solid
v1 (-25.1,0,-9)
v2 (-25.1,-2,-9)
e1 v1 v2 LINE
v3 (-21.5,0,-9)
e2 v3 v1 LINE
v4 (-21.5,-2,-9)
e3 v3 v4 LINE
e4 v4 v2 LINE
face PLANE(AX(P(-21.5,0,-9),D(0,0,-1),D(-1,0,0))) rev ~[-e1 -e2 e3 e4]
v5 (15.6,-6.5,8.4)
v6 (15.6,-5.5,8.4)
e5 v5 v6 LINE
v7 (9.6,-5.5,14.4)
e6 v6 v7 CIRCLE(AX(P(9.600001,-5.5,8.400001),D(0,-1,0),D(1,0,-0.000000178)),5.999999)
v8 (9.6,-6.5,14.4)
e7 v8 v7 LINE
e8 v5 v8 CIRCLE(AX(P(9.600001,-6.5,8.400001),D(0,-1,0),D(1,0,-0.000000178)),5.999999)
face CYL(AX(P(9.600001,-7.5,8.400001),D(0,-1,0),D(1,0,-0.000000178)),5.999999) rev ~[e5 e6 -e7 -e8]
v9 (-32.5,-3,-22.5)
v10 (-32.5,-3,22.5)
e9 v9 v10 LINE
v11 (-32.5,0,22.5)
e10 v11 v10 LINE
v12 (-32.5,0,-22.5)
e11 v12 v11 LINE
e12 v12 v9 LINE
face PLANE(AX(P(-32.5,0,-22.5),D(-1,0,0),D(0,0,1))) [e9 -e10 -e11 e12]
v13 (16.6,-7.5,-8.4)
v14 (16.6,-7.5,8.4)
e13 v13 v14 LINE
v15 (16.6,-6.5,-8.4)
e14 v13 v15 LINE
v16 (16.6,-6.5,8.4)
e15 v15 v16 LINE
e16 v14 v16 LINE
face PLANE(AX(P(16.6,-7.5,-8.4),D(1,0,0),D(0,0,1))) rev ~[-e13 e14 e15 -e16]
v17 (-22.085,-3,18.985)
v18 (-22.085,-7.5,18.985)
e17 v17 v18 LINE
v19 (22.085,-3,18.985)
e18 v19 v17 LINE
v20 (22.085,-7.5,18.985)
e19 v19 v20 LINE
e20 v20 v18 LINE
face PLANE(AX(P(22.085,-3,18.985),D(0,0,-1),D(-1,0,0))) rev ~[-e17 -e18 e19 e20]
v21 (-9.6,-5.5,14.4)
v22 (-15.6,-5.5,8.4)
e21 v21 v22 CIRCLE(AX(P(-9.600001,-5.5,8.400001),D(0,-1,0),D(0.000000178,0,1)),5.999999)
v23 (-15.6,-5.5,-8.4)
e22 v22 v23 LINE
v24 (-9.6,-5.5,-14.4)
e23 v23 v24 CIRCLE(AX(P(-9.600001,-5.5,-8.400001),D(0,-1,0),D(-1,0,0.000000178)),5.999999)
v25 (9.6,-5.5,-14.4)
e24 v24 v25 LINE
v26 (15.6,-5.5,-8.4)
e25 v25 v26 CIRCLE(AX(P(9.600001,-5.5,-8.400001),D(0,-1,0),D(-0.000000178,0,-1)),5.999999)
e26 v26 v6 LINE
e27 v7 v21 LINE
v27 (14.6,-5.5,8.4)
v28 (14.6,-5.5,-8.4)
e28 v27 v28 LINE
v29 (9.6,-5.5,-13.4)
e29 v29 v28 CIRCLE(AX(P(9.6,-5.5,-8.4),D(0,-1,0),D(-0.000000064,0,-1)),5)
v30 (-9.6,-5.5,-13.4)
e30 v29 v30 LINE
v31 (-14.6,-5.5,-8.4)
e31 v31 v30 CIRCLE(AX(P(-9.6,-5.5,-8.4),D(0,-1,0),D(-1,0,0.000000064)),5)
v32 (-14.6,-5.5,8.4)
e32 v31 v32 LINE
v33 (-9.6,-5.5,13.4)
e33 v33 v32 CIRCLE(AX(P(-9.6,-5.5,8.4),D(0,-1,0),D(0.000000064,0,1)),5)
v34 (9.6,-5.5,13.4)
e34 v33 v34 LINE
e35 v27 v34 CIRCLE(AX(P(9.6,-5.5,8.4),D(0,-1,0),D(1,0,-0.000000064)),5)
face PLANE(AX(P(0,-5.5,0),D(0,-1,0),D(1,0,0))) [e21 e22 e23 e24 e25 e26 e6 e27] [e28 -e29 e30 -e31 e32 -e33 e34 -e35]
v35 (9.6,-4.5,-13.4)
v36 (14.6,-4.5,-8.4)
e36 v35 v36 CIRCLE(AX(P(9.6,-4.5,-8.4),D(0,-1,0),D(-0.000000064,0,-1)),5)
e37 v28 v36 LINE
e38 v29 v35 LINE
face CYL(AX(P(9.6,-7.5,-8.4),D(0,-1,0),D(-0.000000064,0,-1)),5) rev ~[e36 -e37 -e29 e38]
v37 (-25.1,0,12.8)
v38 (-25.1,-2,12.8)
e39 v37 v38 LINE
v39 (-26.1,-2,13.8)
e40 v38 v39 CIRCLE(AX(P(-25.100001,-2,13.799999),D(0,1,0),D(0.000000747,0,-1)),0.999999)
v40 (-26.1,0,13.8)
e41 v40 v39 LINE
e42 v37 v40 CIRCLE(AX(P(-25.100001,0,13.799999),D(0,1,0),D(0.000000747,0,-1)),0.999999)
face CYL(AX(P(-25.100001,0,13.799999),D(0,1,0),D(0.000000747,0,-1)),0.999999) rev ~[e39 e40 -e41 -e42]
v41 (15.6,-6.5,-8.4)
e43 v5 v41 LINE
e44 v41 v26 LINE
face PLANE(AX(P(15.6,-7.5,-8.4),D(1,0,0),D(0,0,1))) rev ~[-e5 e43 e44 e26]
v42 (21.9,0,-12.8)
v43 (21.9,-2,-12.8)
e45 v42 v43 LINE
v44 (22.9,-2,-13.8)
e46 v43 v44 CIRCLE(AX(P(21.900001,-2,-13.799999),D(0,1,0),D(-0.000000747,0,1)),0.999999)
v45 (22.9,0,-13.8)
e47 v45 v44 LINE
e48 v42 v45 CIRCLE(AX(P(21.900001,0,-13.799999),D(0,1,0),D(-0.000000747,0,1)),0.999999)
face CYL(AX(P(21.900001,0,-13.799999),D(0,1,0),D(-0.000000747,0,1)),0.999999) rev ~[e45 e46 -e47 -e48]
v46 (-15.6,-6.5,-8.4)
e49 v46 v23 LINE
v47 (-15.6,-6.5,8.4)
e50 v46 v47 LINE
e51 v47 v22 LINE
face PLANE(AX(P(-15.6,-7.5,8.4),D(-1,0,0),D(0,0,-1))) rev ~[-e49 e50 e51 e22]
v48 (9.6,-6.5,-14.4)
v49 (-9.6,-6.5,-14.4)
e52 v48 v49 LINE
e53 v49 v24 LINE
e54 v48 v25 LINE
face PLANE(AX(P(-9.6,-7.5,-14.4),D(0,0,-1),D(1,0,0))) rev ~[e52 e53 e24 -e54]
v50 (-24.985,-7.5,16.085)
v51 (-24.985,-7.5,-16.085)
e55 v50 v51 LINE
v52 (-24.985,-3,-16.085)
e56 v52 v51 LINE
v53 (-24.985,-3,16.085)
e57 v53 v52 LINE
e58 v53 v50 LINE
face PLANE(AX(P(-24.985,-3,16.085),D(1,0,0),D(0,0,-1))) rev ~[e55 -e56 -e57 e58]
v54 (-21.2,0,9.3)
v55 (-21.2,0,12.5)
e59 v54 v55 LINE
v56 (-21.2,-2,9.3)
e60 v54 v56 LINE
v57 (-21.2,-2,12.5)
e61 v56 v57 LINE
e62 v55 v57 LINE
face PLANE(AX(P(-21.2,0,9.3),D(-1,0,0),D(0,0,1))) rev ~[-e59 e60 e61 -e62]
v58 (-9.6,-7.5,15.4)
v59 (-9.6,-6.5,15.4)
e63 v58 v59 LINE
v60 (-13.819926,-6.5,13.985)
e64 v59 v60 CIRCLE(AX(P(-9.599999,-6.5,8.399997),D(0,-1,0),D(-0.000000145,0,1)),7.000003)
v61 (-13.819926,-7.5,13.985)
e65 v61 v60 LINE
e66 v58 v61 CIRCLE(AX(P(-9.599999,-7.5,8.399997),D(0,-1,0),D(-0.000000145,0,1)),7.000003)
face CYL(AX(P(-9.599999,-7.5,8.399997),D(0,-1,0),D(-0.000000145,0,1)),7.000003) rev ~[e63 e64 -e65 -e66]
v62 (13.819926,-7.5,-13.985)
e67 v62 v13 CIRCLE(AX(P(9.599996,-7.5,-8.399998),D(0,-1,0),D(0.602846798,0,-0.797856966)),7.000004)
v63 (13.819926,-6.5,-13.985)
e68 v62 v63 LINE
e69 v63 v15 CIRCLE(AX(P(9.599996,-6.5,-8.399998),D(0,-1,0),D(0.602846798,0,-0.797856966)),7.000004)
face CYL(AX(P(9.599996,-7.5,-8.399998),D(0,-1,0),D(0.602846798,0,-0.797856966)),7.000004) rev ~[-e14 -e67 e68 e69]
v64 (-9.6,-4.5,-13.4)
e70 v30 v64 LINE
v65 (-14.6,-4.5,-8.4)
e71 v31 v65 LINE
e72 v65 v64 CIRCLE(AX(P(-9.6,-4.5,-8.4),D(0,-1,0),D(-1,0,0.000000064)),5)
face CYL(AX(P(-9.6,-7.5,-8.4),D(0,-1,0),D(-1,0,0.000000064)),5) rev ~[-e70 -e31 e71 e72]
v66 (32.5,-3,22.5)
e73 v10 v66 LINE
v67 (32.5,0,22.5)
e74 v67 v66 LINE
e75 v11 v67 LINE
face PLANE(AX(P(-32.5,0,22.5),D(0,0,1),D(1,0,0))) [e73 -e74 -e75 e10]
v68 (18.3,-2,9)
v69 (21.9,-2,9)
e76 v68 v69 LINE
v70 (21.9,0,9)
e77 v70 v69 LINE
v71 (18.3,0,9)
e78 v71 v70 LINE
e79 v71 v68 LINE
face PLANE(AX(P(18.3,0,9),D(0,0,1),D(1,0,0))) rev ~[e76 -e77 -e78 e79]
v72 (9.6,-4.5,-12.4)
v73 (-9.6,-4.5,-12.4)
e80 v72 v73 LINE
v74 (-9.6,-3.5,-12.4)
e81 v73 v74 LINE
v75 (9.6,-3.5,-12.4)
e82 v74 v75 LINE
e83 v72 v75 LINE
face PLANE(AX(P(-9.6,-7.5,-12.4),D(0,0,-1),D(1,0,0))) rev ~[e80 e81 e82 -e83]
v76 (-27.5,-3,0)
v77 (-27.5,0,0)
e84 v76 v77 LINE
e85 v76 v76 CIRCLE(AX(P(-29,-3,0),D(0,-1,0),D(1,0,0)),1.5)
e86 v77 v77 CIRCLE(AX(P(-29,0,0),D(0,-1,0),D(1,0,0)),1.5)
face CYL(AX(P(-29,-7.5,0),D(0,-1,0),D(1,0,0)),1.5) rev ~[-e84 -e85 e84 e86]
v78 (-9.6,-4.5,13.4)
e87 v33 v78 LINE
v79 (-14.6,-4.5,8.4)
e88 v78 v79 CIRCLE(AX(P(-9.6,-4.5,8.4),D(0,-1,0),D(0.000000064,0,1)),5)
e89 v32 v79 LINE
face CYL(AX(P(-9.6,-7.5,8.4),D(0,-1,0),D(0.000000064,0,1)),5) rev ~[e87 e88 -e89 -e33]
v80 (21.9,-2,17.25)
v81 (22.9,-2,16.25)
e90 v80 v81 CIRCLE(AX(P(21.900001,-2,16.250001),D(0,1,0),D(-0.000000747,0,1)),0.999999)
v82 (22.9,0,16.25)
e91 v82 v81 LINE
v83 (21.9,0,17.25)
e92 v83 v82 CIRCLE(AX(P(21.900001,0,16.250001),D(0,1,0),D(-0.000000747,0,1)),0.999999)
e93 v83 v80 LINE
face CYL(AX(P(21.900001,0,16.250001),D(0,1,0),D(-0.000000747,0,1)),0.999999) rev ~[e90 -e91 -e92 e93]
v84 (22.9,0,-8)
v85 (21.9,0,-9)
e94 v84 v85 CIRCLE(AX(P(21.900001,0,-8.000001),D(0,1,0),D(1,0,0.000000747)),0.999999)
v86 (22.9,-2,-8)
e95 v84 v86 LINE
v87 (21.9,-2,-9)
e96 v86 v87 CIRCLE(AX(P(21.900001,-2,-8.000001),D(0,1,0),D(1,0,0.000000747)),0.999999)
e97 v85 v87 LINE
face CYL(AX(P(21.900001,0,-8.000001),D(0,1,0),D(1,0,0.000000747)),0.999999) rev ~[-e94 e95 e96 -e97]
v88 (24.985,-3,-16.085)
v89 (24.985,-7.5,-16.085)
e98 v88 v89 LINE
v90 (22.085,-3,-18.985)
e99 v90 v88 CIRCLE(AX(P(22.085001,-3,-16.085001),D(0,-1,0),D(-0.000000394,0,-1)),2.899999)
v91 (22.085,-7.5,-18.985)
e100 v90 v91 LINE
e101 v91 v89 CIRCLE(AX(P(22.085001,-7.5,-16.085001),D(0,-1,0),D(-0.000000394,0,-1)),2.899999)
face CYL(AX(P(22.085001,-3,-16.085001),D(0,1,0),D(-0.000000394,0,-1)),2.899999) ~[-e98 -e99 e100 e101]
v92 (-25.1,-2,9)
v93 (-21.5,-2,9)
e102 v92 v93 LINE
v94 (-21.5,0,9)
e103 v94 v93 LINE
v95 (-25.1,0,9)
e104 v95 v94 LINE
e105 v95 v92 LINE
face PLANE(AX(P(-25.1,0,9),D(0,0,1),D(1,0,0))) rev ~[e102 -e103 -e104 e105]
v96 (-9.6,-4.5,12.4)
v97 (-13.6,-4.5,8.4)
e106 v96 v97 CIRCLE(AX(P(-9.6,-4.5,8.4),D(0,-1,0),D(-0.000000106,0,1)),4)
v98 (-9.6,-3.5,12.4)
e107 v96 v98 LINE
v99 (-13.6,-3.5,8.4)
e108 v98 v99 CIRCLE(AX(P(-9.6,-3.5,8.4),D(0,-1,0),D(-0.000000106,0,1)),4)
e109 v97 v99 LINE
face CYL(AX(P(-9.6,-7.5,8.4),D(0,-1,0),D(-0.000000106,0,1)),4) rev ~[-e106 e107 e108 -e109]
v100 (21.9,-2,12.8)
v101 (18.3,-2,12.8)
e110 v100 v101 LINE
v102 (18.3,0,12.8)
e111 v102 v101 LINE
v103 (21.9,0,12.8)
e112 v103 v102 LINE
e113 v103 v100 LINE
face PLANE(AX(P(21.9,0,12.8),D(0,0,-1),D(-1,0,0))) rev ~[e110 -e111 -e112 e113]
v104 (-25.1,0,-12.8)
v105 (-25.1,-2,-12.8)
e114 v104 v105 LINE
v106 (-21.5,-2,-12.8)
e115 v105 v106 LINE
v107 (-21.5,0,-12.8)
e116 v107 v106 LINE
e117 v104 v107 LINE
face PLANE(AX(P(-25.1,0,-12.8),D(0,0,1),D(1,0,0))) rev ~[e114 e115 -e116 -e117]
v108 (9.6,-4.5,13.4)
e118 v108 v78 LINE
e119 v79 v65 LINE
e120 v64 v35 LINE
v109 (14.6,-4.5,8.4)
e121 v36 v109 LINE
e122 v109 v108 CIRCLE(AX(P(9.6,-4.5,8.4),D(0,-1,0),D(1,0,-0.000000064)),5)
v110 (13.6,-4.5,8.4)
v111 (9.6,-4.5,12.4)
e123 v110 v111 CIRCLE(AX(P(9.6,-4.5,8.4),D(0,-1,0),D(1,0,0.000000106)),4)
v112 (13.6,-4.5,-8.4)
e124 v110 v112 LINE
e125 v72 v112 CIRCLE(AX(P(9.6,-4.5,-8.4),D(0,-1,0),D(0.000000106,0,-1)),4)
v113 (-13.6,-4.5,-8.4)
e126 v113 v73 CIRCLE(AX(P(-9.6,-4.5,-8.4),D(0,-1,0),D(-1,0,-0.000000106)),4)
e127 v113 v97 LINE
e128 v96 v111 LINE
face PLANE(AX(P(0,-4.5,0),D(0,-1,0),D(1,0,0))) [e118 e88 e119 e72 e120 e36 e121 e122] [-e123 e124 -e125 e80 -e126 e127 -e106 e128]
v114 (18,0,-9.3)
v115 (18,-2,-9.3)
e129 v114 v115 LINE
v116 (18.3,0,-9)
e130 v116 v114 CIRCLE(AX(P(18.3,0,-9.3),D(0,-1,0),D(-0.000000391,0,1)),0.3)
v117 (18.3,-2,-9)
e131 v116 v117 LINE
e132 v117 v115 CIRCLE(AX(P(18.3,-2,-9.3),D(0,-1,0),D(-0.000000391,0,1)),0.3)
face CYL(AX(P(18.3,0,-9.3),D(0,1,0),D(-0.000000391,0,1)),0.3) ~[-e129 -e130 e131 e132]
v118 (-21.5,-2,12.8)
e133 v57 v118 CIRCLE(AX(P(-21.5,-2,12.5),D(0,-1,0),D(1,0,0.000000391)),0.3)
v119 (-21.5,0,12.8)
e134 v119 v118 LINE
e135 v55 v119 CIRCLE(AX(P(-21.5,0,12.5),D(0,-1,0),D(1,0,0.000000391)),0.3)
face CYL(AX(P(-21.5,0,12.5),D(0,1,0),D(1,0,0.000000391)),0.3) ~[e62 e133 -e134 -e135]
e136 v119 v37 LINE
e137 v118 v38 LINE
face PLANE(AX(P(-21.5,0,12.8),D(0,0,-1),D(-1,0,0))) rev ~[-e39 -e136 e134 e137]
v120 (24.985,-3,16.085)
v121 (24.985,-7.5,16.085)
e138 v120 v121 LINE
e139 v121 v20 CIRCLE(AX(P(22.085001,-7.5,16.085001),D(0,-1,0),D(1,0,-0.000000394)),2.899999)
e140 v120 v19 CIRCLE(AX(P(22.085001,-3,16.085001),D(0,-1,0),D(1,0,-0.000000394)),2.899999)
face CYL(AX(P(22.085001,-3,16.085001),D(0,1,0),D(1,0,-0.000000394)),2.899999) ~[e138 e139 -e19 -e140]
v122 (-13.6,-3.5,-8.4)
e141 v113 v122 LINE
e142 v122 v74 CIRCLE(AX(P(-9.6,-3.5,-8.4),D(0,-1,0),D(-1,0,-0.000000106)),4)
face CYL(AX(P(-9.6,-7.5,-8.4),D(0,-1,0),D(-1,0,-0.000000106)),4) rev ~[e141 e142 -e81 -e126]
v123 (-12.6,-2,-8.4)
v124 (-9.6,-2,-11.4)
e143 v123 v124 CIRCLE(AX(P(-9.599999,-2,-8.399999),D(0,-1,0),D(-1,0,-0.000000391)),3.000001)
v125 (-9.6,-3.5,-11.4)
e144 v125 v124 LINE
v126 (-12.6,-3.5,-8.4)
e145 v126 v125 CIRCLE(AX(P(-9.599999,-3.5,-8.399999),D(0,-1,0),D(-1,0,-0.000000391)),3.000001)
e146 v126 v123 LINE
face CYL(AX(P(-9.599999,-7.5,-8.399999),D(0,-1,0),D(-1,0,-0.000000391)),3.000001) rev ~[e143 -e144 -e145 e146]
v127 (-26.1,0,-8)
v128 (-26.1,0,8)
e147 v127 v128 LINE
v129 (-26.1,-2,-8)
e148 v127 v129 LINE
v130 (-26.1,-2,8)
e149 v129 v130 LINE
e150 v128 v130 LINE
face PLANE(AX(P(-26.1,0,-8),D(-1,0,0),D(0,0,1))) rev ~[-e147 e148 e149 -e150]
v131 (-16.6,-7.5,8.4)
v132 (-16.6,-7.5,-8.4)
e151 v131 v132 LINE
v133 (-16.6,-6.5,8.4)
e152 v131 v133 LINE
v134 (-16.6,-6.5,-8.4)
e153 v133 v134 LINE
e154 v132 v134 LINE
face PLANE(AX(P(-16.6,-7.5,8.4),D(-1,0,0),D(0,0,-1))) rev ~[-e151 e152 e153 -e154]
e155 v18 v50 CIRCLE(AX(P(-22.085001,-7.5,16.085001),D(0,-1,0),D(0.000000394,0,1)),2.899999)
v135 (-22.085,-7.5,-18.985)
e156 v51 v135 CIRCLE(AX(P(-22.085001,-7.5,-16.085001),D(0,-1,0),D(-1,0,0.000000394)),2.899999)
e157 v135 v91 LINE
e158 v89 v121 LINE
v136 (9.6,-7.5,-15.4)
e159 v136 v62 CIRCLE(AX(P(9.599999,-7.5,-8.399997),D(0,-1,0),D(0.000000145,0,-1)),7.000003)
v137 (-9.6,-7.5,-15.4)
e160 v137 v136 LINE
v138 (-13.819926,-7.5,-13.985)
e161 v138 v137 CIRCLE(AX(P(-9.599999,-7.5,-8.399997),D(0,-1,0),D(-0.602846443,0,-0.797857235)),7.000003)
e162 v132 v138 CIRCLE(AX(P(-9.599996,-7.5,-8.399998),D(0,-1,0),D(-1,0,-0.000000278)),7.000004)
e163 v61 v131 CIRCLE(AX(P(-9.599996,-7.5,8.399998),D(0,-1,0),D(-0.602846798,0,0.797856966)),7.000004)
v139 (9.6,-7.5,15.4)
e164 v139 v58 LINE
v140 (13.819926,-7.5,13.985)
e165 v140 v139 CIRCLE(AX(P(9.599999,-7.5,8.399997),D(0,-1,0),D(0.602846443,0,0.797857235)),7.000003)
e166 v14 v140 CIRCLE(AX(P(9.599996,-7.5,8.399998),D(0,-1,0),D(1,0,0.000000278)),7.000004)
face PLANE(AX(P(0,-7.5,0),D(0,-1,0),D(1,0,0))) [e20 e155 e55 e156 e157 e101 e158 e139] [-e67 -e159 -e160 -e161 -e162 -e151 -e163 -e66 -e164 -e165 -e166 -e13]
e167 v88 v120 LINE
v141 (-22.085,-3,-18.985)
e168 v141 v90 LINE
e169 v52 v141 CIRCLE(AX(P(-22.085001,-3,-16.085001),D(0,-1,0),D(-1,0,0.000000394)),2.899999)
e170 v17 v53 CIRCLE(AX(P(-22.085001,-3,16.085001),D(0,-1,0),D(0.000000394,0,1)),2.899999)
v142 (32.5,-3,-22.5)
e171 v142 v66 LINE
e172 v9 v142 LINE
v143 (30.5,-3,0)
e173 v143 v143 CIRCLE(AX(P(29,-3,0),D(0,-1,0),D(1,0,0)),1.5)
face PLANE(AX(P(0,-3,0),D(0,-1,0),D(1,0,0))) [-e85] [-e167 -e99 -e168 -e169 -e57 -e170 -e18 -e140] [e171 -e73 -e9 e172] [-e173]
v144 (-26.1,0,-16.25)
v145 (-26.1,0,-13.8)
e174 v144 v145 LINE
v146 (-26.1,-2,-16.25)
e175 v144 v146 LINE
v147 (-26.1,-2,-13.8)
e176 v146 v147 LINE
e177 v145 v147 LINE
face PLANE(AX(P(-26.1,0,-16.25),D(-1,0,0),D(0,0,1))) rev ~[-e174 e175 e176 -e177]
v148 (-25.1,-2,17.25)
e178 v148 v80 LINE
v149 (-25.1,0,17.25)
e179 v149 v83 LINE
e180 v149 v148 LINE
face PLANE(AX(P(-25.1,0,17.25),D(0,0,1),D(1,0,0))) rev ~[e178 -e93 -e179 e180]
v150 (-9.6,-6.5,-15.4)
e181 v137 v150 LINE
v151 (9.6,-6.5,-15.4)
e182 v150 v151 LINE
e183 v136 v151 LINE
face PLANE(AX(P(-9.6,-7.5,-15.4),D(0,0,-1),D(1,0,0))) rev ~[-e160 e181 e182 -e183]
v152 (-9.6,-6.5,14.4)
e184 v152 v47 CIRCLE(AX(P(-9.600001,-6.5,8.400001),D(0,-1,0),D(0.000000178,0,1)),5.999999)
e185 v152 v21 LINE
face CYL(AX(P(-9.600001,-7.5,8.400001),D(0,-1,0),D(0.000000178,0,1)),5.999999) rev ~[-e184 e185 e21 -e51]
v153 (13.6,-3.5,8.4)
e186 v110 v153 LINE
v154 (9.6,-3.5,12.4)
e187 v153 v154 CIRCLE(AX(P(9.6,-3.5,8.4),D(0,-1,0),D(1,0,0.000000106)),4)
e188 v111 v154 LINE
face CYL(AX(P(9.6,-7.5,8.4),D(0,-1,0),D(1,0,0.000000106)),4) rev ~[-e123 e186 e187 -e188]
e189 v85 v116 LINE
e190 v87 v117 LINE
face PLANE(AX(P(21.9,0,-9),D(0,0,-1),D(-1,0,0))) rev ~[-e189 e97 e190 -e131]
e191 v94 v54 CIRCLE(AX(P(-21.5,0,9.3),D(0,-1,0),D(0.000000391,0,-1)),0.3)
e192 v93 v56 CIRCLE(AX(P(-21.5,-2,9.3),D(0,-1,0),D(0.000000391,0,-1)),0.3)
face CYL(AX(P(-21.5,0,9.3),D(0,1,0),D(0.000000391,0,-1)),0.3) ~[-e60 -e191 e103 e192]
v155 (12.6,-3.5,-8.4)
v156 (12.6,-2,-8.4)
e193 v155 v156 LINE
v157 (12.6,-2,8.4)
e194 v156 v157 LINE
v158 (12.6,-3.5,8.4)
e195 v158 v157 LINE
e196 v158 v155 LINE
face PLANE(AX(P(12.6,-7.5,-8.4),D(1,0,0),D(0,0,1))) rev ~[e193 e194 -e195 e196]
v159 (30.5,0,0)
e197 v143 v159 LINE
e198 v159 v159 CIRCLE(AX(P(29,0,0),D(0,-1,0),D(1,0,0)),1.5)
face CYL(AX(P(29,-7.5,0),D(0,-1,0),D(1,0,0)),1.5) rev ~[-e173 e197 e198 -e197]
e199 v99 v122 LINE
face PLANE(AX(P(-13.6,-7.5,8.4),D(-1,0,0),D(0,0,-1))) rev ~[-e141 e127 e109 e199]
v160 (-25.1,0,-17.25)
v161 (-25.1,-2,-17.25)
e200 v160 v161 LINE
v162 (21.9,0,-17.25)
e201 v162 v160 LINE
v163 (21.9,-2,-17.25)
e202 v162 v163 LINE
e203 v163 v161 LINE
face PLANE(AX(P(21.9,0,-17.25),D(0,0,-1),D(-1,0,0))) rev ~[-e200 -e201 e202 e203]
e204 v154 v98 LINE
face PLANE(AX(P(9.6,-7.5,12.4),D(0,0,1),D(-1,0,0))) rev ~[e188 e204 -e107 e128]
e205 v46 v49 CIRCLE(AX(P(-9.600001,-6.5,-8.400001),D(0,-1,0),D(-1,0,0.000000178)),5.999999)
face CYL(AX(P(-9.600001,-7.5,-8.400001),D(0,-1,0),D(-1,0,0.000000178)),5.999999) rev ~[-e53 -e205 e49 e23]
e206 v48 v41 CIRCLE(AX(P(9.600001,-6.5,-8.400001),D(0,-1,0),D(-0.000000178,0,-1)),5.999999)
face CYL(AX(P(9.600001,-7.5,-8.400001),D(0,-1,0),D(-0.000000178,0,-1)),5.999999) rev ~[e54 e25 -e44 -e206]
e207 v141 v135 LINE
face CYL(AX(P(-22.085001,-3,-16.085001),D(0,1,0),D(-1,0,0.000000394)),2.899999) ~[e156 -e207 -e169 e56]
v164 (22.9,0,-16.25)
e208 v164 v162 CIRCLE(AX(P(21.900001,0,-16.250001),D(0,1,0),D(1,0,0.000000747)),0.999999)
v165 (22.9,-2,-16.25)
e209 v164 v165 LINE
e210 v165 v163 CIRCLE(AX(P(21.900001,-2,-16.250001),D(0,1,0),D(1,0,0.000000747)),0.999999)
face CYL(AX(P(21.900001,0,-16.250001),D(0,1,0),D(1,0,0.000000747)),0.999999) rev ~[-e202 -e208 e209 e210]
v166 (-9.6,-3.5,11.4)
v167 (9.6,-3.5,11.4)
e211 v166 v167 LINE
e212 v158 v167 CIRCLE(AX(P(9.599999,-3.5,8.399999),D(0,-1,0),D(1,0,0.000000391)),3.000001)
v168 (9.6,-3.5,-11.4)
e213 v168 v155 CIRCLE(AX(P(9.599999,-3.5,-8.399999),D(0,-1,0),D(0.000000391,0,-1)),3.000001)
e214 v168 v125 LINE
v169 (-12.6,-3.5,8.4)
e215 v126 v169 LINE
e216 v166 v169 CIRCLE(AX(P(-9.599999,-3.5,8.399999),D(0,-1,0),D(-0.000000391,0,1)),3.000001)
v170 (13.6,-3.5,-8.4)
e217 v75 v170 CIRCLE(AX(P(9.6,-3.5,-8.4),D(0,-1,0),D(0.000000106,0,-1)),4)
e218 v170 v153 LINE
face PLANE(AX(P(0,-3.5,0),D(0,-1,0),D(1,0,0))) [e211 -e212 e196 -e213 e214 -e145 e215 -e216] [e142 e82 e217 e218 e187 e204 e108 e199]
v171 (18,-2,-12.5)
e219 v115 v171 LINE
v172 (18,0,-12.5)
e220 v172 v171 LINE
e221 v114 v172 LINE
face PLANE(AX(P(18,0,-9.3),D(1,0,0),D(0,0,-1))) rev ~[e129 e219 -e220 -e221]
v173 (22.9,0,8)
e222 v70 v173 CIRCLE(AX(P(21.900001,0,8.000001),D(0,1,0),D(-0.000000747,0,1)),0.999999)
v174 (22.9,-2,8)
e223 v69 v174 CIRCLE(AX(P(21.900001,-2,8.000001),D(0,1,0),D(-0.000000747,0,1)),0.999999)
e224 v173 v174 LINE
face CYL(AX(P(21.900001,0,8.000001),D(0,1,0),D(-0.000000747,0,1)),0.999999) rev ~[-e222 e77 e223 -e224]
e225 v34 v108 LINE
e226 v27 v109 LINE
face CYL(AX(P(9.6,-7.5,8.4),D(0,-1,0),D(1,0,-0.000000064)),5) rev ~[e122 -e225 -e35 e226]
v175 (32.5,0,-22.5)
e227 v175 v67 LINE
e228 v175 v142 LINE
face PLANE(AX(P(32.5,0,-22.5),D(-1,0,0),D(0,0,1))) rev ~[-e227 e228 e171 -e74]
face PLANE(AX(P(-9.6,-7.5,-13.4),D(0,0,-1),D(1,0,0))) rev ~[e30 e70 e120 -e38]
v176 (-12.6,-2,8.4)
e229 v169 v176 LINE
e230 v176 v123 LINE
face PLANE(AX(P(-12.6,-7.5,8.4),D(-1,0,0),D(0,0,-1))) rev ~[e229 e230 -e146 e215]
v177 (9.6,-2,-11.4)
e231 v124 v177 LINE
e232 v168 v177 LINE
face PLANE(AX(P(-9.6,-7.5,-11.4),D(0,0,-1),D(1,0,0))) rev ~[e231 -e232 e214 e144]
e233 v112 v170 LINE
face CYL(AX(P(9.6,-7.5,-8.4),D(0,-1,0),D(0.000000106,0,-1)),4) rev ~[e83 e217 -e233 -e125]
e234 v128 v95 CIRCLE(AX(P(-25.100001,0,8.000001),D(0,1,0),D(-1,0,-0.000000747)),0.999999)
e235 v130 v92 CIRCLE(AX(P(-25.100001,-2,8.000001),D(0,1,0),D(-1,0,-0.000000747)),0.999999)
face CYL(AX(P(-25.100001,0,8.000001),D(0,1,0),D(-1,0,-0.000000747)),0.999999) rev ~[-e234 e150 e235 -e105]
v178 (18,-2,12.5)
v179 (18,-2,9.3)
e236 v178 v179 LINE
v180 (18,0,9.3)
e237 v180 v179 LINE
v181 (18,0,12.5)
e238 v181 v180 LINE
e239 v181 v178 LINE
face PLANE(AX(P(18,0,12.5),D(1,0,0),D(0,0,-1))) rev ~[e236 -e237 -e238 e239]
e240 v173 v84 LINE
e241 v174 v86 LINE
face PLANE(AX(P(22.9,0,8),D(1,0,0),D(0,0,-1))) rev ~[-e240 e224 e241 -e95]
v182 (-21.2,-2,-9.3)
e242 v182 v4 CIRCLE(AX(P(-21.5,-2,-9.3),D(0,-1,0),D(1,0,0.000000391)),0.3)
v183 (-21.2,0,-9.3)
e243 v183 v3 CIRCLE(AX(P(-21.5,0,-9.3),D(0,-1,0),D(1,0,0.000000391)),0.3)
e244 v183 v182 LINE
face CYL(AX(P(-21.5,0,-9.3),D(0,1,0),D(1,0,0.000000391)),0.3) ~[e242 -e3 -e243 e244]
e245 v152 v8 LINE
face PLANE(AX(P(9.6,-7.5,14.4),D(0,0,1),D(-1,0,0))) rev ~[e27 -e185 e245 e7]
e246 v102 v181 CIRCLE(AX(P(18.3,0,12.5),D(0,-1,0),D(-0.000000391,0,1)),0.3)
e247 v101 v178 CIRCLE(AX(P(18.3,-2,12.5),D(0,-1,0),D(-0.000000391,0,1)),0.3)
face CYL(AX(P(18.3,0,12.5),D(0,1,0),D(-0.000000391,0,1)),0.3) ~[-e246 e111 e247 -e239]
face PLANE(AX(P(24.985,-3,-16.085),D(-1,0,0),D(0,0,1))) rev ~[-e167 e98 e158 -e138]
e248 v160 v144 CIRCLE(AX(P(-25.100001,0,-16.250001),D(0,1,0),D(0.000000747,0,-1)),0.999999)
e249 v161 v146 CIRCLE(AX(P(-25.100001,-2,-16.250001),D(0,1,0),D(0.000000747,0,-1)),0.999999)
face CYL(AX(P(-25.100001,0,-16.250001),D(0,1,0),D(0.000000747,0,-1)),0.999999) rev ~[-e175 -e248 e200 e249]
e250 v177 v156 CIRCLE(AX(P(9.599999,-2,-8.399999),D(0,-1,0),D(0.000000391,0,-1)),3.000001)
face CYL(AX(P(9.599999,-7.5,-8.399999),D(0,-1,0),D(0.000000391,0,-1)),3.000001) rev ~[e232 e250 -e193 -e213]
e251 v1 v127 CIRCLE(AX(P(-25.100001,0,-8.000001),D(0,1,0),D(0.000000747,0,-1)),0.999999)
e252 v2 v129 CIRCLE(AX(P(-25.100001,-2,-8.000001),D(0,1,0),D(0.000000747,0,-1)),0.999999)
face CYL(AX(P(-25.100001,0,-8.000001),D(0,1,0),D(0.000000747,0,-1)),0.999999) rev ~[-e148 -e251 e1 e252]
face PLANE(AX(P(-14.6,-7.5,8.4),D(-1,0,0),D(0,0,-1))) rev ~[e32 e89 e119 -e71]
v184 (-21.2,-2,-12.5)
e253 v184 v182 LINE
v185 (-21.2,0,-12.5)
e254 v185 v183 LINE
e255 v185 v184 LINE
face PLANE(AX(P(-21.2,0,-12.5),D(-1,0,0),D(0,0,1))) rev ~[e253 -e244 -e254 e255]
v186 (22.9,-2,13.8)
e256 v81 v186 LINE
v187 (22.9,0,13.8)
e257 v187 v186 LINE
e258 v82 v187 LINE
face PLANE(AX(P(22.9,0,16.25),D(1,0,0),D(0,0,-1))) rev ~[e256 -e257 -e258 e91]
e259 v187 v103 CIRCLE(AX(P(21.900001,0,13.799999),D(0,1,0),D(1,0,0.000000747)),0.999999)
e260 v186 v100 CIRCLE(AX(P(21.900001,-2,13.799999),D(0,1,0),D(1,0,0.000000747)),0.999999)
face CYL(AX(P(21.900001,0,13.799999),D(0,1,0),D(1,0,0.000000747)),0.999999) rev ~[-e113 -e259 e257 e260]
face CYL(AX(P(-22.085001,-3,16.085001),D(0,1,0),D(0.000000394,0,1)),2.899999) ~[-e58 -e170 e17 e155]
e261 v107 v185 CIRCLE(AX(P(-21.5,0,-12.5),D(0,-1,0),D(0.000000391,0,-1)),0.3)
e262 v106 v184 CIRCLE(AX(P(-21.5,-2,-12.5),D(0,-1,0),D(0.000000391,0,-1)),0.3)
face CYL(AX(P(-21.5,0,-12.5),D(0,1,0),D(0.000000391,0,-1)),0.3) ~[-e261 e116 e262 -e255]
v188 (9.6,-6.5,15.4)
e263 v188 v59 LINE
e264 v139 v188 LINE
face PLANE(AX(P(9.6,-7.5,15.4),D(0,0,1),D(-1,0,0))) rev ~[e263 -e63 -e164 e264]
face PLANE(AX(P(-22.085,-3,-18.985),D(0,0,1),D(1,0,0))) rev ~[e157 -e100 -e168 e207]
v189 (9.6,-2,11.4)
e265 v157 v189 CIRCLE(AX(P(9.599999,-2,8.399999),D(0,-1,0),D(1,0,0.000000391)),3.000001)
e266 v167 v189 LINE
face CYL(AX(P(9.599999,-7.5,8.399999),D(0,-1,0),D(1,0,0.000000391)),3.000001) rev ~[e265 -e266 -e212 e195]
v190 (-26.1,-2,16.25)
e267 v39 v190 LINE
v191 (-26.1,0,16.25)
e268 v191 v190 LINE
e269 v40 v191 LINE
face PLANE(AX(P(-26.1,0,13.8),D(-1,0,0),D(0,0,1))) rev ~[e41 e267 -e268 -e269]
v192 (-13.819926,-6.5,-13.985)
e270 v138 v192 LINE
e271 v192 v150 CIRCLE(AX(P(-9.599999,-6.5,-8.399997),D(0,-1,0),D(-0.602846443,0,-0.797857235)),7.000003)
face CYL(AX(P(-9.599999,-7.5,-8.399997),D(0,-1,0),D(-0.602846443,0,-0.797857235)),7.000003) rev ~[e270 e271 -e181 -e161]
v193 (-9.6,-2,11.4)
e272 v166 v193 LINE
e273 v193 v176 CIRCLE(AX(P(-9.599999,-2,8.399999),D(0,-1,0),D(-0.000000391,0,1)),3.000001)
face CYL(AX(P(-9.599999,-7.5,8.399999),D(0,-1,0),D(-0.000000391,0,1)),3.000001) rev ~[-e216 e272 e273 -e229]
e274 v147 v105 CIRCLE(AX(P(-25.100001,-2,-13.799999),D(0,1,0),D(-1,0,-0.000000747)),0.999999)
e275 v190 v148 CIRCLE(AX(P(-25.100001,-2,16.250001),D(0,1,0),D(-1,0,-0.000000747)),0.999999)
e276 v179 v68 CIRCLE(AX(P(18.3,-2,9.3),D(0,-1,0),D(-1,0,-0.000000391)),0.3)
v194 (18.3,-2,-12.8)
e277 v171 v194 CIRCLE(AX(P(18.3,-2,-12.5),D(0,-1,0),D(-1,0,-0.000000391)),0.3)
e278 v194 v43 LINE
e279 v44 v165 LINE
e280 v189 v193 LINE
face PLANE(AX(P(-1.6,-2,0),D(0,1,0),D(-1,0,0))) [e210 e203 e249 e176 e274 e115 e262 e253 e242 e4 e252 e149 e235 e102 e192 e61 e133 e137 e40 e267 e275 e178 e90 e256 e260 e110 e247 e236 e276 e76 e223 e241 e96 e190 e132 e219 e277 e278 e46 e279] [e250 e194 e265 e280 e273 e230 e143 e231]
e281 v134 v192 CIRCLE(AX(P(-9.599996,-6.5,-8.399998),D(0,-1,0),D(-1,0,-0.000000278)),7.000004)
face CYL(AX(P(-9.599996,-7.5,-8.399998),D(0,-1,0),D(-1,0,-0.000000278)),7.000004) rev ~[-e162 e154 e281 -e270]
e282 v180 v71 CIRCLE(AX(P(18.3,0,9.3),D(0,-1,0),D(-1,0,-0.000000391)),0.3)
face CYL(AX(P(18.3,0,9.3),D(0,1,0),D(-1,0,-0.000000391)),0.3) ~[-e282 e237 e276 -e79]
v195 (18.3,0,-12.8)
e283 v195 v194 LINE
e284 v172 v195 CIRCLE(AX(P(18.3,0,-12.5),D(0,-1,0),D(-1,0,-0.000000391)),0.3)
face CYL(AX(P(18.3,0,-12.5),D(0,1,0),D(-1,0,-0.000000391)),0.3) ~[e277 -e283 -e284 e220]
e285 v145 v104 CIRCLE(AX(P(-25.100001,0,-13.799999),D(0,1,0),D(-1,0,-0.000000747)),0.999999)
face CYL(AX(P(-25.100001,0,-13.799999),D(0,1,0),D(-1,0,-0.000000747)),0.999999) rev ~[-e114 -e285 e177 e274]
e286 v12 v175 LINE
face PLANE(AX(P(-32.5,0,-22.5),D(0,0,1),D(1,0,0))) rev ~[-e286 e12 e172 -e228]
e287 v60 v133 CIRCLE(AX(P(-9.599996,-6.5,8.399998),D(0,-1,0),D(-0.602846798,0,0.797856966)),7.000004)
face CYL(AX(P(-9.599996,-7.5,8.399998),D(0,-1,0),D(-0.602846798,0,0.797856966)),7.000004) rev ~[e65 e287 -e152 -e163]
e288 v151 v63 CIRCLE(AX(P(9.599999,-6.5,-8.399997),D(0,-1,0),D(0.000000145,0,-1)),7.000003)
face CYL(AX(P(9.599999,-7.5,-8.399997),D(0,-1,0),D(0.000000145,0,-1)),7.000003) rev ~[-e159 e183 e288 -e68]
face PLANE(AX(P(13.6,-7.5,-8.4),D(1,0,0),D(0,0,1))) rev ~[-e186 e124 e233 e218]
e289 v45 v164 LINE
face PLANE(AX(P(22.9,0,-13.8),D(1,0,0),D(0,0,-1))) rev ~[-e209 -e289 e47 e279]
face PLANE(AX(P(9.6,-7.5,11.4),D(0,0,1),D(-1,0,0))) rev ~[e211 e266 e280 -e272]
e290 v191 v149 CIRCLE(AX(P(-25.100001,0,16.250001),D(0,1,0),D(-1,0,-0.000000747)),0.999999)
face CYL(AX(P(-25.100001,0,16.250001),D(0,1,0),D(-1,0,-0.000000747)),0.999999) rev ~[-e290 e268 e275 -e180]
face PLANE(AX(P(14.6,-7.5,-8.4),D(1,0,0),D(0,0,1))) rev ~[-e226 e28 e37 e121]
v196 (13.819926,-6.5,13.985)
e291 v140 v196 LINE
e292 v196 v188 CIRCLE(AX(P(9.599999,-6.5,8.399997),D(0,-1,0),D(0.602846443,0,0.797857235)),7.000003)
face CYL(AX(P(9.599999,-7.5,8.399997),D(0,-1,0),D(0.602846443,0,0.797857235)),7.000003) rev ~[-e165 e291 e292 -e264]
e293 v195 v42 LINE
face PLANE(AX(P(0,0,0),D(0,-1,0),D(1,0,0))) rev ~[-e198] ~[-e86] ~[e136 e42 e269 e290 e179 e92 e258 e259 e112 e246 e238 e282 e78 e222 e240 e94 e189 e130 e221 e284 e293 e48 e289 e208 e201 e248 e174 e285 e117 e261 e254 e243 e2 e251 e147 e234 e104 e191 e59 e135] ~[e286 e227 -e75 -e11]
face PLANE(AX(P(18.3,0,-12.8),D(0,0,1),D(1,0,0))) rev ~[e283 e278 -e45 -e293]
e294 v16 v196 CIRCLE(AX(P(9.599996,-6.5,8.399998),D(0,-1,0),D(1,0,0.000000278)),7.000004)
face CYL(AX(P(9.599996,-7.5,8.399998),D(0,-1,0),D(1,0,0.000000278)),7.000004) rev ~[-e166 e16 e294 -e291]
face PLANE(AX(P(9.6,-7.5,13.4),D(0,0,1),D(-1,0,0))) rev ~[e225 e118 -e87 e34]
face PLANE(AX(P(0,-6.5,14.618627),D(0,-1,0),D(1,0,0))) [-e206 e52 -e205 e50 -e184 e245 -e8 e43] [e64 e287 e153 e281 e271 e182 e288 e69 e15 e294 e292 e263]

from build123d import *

# Parameters (mm, degrees)
F0_W      = 65
F0_H      = 45
F1_DEPTH  = 3
F3_DEPTH  = 4.5
F4_R      = 1.5
F5_DEPTH  = 25
F7_DEPTH  = 2
F9_DEPTH  = 4
F11_DEPTH = 3
F13_DEPTH = 2
F15_DEPTH = 1


with BuildPart() as f1:
    # F0 (on Front) → F1 (new body)
    with BuildSketch(Plane.XZ):
        Rectangle(F0_W, F0_H)
    extrude(amount=F1_DEPTH)

    # F2 (on face) → F3 (join)
    with BuildSketch(Plane.XZ.offset(3)):
        with BuildLine():
            Line((22.085, 18.985), (-22.085, 18.985))
            ThreePointArc((-22.085, 18.985), (-24.13561, 18.13561), (-24.985, 16.085))
            Line((-24.985, 16.085), (-24.985, -16.085))
            ThreePointArc((-24.985, -16.085), (-24.13561, -18.13561), (-22.085, -18.985))
            Line((-22.085, -18.985), (22.085, -18.985))
            ThreePointArc((22.085, -18.985), (24.13561, -18.13561), (24.985, -16.085))
            Line((24.985, -16.085), (24.985, 16.085))
            ThreePointArc((24.985, 16.085), (24.13561, 18.13561), (22.085, 18.985))
        make_face()
    extrude(amount=F3_DEPTH)

    # F4 (on face) → F5 (cut)
    with BuildSketch(Plane.XZ.offset(7.5)):
        with BuildLine():
            Line((9.6, 11.4), (-9.6, 11.4))
            ThreePointArc((-9.6, 11.4), (-11.72132, 10.52132), (-12.6, 8.4))
            Line((-12.6, 8.4), (-12.6, -8.4))
            ThreePointArc((-12.6, -8.4), (-11.72132, -10.52132), (-9.6, -11.4))
            Line((-9.6, -11.4), (9.6, -11.4))
            ThreePointArc((9.6, -11.4), (11.72132, -10.52132), (12.6, -8.4))
            Line((12.6, -8.4), (12.6, 8.4))
            ThreePointArc((12.6, 8.4), (11.72132, 10.52132), (9.6, 11.4))
        make_face()
        with Locations((-29, 0)):
            Circle(F4_R)
        with Locations((29, 0)):
            Circle(F4_R)
    extrude(amount=-F5_DEPTH, mode=Mode.SUBTRACT)

    # F6 (on face) → F7 (cut)
    with BuildSketch(Plane(origin=(0, 0, 0), x_dir=(-1, 0, 0), z_dir=(0, 1, 0))):
        with BuildLine():
            Line((-18.3, -12.8), (-21.9, -12.8))
            ThreePointArc((-21.9, -12.8), (-22.607107, -13.092893), (-22.9, -13.8))
            Line((-22.9, -13.8), (-22.9, -16.25))
            ThreePointArc((-22.9, -16.25), (-22.607107, -16.957107), (-21.9, -17.25))
            Line((-21.9, -17.25), (25.1, -17.25))
            ThreePointArc((25.1, -17.25), (25.807107, -16.957107), (26.1, -16.25))
            Line((26.1, -16.25), (26.1, -13.8))
            ThreePointArc((26.1, -13.8), (25.807107, -13.092893), (25.1, -12.8))
            Line((25.1, -12.8), (21.5, -12.8))
            ThreePointArc((21.5, -12.8), (21.287868, -12.712132), (21.2, -12.5))
            Line((21.2, -12.5), (21.2, -9.3))
            ThreePointArc((21.2, -9.3), (21.287868, -9.087868), (21.5, -9))
            Line((21.5, -9), (25.1, -9))
            ThreePointArc((25.1, -9), (25.807107, -8.707107), (26.1, -8))
            Line((26.1, -8), (26.1, 8))
            ThreePointArc((26.1, 8), (25.807107, 8.707107), (25.1, 9))
            Line((25.1, 9), (21.5, 9))
            ThreePointArc((21.5, 9), (21.287868, 9.087868), (21.2, 9.3))
            Line((21.2, 9.3), (21.2, 12.5))
            ThreePointArc((21.2, 12.5), (21.287868, 12.712132), (21.5, 12.8))
            Line((21.5, 12.8), (25.1, 12.8))
            ThreePointArc((25.1, 12.8), (25.807107, 13.092893), (26.1, 13.8))
            Line((26.1, 13.8), (26.1, 16.25))
            ThreePointArc((26.1, 16.25), (25.807107, 16.957107), (25.1, 17.25))
            Line((25.1, 17.25), (-21.9, 17.25))
            ThreePointArc((-21.9, 17.25), (-22.607107, 16.957107), (-22.9, 16.25))
            Line((-22.9, 16.25), (-22.9, 13.8))
            ThreePointArc((-22.9, 13.8), (-22.607107, 13.092893), (-21.9, 12.8))
            Line((-21.9, 12.8), (-18.3, 12.8))
            ThreePointArc((-18.3, 12.8), (-18.087868, 12.712132), (-18, 12.5))
            Line((-18, 12.5), (-18, 9.3))
            ThreePointArc((-18, 9.3), (-18.087868, 9.087868), (-18.3, 9))
            Line((-18.3, 9), (-21.9, 9))
            ThreePointArc((-21.9, 9), (-22.607107, 8.707107), (-22.9, 8))
            Line((-22.9, 8), (-22.9, -8))
            ThreePointArc((-22.9, -8), (-22.607107, -8.707107), (-21.9, -9))
            Line((-21.9, -9), (-18.3, -9))
            ThreePointArc((-18.3, -9), (-18.087868, -9.087868), (-18, -9.3))
            Line((-18, -9.3), (-18, -12.5))
            ThreePointArc((-18, -12.5), (-18.087868, -12.712132), (-18.3, -12.8))
        make_face()
    extrude(amount=-F7_DEPTH, mode=Mode.SUBTRACT)

    # F8 (on face) → F9 (cut)
    with BuildSketch(Plane.XZ.offset(7.5)):
        with BuildLine():
            Line((9.6, 12.4), (-9.6, 12.4))
            ThreePointArc((-9.6, 12.4), (-12.428427, 11.228427), (-13.6, 8.4))
            Line((-13.6, 8.4), (-13.6, -8.4))
            ThreePointArc((-13.6, -8.4), (-12.428427, -11.228427), (-9.6, -12.4))
            Line((-9.6, -12.4), (9.6, -12.4))
            ThreePointArc((9.6, -12.4), (12.428427, -11.228427), (13.6, -8.4))
            Line((13.6, -8.4), (13.6, 8.4))
            ThreePointArc((13.6, 8.4), (12.428427, 11.228427), (9.6, 12.4))
        make_face()
    extrude(amount=-F9_DEPTH, mode=Mode.SUBTRACT)

    # F10 (on face) → F11 (cut)
    with BuildSketch(Plane.XZ.offset(7.5)):
        with BuildLine():
            Line((9.6, 13.4), (-9.6, 13.4))
            ThreePointArc((-9.6, 13.4), (-13.135534, 11.935534), (-14.6, 8.4))
            Line((-14.6, 8.4), (-14.6, -8.4))
            ThreePointArc((-14.6, -8.4), (-13.135534, -11.935534), (-9.6, -13.4))
            Line((-9.6, -13.4), (9.6, -13.4))
            ThreePointArc((9.6, -13.4), (13.135534, -11.935534), (14.6, -8.4))
            Line((14.6, -8.4), (14.6, 8.4))
            ThreePointArc((14.6, 8.4), (13.135534, 11.935534), (9.6, 13.4))
        make_face()
    extrude(amount=-F11_DEPTH, mode=Mode.SUBTRACT)

    # F12 (on face) → F13 (cut)
    with BuildSketch(Plane.XZ.offset(7.5)):
        with BuildLine():
            Line((9.6, 14.4), (-9.6, 14.4))
            ThreePointArc((-9.6, 14.4), (-13.842641, 12.642641), (-15.6, 8.4))
            Line((-15.6, 8.4), (-15.6, -8.4))
            ThreePointArc((-15.6, -8.4), (-13.842641, -12.642641), (-9.6, -14.4))
            Line((-9.6, -14.4), (9.6, -14.4))
            ThreePointArc((9.6, -14.4), (13.842641, -12.642641), (15.6, -8.4))
            Line((15.6, -8.4), (15.6, 8.4))
            ThreePointArc((15.6, 8.4), (13.842641, 12.642641), (9.6, 14.4))
        make_face()
    extrude(amount=-F13_DEPTH, mode=Mode.SUBTRACT)

    # F14 (on face) → F15 (cut)
    with BuildSketch(Plane.XZ.offset(7.5)):
        with BuildLine():
            Line((9.6, 15.4), (-9.6, 15.4))
            ThreePointArc((-9.6, 15.4), (-11.825421, 15.036829), (-13.819926, 13.985))
            Line((-13.819926, 13.985), (13.819926, 13.985))
            ThreePointArc((13.819926, 13.985), (11.825421, 15.036829), (9.6, 15.4))
        make_face()
        with BuildLine():
            Line((13.819926, -13.985), (-13.819926, -13.985))
            ThreePointArc((-13.819926, -13.985), (-11.825421, -15.036829), (-9.6, -15.4))
            Line((-9.6, -15.4), (9.6, -15.4))
            ThreePointArc((9.6, -15.4), (11.825421, -15.036829), (13.819926, -13.985))
        make_face()
        with BuildLine():
            Line((13.819926, 13.985), (-13.819926, 13.985))
            ThreePointArc((-13.819926, 13.985), (-15.866557, 11.519336), (-16.6, 8.4))
            Line((-16.6, 8.4), (-16.6, -8.4))
            ThreePointArc((-16.6, -8.4), (-15.866557, -11.519336), (-13.819926, -13.985))
            Line((-13.819926, -13.985), (13.819926, -13.985))
            ThreePointArc((13.819926, -13.985), (15.866557, -11.519336), (16.6, -8.4))
            Line((16.6, -8.4), (16.6, 8.4))
            ThreePointArc((16.6, 8.4), (15.866557, 11.519336), (13.819926, 13.985))
        make_face()
    extrude(amount=-F15_DEPTH, mode=Mode.SUBTRACT)


solid = f1.part
